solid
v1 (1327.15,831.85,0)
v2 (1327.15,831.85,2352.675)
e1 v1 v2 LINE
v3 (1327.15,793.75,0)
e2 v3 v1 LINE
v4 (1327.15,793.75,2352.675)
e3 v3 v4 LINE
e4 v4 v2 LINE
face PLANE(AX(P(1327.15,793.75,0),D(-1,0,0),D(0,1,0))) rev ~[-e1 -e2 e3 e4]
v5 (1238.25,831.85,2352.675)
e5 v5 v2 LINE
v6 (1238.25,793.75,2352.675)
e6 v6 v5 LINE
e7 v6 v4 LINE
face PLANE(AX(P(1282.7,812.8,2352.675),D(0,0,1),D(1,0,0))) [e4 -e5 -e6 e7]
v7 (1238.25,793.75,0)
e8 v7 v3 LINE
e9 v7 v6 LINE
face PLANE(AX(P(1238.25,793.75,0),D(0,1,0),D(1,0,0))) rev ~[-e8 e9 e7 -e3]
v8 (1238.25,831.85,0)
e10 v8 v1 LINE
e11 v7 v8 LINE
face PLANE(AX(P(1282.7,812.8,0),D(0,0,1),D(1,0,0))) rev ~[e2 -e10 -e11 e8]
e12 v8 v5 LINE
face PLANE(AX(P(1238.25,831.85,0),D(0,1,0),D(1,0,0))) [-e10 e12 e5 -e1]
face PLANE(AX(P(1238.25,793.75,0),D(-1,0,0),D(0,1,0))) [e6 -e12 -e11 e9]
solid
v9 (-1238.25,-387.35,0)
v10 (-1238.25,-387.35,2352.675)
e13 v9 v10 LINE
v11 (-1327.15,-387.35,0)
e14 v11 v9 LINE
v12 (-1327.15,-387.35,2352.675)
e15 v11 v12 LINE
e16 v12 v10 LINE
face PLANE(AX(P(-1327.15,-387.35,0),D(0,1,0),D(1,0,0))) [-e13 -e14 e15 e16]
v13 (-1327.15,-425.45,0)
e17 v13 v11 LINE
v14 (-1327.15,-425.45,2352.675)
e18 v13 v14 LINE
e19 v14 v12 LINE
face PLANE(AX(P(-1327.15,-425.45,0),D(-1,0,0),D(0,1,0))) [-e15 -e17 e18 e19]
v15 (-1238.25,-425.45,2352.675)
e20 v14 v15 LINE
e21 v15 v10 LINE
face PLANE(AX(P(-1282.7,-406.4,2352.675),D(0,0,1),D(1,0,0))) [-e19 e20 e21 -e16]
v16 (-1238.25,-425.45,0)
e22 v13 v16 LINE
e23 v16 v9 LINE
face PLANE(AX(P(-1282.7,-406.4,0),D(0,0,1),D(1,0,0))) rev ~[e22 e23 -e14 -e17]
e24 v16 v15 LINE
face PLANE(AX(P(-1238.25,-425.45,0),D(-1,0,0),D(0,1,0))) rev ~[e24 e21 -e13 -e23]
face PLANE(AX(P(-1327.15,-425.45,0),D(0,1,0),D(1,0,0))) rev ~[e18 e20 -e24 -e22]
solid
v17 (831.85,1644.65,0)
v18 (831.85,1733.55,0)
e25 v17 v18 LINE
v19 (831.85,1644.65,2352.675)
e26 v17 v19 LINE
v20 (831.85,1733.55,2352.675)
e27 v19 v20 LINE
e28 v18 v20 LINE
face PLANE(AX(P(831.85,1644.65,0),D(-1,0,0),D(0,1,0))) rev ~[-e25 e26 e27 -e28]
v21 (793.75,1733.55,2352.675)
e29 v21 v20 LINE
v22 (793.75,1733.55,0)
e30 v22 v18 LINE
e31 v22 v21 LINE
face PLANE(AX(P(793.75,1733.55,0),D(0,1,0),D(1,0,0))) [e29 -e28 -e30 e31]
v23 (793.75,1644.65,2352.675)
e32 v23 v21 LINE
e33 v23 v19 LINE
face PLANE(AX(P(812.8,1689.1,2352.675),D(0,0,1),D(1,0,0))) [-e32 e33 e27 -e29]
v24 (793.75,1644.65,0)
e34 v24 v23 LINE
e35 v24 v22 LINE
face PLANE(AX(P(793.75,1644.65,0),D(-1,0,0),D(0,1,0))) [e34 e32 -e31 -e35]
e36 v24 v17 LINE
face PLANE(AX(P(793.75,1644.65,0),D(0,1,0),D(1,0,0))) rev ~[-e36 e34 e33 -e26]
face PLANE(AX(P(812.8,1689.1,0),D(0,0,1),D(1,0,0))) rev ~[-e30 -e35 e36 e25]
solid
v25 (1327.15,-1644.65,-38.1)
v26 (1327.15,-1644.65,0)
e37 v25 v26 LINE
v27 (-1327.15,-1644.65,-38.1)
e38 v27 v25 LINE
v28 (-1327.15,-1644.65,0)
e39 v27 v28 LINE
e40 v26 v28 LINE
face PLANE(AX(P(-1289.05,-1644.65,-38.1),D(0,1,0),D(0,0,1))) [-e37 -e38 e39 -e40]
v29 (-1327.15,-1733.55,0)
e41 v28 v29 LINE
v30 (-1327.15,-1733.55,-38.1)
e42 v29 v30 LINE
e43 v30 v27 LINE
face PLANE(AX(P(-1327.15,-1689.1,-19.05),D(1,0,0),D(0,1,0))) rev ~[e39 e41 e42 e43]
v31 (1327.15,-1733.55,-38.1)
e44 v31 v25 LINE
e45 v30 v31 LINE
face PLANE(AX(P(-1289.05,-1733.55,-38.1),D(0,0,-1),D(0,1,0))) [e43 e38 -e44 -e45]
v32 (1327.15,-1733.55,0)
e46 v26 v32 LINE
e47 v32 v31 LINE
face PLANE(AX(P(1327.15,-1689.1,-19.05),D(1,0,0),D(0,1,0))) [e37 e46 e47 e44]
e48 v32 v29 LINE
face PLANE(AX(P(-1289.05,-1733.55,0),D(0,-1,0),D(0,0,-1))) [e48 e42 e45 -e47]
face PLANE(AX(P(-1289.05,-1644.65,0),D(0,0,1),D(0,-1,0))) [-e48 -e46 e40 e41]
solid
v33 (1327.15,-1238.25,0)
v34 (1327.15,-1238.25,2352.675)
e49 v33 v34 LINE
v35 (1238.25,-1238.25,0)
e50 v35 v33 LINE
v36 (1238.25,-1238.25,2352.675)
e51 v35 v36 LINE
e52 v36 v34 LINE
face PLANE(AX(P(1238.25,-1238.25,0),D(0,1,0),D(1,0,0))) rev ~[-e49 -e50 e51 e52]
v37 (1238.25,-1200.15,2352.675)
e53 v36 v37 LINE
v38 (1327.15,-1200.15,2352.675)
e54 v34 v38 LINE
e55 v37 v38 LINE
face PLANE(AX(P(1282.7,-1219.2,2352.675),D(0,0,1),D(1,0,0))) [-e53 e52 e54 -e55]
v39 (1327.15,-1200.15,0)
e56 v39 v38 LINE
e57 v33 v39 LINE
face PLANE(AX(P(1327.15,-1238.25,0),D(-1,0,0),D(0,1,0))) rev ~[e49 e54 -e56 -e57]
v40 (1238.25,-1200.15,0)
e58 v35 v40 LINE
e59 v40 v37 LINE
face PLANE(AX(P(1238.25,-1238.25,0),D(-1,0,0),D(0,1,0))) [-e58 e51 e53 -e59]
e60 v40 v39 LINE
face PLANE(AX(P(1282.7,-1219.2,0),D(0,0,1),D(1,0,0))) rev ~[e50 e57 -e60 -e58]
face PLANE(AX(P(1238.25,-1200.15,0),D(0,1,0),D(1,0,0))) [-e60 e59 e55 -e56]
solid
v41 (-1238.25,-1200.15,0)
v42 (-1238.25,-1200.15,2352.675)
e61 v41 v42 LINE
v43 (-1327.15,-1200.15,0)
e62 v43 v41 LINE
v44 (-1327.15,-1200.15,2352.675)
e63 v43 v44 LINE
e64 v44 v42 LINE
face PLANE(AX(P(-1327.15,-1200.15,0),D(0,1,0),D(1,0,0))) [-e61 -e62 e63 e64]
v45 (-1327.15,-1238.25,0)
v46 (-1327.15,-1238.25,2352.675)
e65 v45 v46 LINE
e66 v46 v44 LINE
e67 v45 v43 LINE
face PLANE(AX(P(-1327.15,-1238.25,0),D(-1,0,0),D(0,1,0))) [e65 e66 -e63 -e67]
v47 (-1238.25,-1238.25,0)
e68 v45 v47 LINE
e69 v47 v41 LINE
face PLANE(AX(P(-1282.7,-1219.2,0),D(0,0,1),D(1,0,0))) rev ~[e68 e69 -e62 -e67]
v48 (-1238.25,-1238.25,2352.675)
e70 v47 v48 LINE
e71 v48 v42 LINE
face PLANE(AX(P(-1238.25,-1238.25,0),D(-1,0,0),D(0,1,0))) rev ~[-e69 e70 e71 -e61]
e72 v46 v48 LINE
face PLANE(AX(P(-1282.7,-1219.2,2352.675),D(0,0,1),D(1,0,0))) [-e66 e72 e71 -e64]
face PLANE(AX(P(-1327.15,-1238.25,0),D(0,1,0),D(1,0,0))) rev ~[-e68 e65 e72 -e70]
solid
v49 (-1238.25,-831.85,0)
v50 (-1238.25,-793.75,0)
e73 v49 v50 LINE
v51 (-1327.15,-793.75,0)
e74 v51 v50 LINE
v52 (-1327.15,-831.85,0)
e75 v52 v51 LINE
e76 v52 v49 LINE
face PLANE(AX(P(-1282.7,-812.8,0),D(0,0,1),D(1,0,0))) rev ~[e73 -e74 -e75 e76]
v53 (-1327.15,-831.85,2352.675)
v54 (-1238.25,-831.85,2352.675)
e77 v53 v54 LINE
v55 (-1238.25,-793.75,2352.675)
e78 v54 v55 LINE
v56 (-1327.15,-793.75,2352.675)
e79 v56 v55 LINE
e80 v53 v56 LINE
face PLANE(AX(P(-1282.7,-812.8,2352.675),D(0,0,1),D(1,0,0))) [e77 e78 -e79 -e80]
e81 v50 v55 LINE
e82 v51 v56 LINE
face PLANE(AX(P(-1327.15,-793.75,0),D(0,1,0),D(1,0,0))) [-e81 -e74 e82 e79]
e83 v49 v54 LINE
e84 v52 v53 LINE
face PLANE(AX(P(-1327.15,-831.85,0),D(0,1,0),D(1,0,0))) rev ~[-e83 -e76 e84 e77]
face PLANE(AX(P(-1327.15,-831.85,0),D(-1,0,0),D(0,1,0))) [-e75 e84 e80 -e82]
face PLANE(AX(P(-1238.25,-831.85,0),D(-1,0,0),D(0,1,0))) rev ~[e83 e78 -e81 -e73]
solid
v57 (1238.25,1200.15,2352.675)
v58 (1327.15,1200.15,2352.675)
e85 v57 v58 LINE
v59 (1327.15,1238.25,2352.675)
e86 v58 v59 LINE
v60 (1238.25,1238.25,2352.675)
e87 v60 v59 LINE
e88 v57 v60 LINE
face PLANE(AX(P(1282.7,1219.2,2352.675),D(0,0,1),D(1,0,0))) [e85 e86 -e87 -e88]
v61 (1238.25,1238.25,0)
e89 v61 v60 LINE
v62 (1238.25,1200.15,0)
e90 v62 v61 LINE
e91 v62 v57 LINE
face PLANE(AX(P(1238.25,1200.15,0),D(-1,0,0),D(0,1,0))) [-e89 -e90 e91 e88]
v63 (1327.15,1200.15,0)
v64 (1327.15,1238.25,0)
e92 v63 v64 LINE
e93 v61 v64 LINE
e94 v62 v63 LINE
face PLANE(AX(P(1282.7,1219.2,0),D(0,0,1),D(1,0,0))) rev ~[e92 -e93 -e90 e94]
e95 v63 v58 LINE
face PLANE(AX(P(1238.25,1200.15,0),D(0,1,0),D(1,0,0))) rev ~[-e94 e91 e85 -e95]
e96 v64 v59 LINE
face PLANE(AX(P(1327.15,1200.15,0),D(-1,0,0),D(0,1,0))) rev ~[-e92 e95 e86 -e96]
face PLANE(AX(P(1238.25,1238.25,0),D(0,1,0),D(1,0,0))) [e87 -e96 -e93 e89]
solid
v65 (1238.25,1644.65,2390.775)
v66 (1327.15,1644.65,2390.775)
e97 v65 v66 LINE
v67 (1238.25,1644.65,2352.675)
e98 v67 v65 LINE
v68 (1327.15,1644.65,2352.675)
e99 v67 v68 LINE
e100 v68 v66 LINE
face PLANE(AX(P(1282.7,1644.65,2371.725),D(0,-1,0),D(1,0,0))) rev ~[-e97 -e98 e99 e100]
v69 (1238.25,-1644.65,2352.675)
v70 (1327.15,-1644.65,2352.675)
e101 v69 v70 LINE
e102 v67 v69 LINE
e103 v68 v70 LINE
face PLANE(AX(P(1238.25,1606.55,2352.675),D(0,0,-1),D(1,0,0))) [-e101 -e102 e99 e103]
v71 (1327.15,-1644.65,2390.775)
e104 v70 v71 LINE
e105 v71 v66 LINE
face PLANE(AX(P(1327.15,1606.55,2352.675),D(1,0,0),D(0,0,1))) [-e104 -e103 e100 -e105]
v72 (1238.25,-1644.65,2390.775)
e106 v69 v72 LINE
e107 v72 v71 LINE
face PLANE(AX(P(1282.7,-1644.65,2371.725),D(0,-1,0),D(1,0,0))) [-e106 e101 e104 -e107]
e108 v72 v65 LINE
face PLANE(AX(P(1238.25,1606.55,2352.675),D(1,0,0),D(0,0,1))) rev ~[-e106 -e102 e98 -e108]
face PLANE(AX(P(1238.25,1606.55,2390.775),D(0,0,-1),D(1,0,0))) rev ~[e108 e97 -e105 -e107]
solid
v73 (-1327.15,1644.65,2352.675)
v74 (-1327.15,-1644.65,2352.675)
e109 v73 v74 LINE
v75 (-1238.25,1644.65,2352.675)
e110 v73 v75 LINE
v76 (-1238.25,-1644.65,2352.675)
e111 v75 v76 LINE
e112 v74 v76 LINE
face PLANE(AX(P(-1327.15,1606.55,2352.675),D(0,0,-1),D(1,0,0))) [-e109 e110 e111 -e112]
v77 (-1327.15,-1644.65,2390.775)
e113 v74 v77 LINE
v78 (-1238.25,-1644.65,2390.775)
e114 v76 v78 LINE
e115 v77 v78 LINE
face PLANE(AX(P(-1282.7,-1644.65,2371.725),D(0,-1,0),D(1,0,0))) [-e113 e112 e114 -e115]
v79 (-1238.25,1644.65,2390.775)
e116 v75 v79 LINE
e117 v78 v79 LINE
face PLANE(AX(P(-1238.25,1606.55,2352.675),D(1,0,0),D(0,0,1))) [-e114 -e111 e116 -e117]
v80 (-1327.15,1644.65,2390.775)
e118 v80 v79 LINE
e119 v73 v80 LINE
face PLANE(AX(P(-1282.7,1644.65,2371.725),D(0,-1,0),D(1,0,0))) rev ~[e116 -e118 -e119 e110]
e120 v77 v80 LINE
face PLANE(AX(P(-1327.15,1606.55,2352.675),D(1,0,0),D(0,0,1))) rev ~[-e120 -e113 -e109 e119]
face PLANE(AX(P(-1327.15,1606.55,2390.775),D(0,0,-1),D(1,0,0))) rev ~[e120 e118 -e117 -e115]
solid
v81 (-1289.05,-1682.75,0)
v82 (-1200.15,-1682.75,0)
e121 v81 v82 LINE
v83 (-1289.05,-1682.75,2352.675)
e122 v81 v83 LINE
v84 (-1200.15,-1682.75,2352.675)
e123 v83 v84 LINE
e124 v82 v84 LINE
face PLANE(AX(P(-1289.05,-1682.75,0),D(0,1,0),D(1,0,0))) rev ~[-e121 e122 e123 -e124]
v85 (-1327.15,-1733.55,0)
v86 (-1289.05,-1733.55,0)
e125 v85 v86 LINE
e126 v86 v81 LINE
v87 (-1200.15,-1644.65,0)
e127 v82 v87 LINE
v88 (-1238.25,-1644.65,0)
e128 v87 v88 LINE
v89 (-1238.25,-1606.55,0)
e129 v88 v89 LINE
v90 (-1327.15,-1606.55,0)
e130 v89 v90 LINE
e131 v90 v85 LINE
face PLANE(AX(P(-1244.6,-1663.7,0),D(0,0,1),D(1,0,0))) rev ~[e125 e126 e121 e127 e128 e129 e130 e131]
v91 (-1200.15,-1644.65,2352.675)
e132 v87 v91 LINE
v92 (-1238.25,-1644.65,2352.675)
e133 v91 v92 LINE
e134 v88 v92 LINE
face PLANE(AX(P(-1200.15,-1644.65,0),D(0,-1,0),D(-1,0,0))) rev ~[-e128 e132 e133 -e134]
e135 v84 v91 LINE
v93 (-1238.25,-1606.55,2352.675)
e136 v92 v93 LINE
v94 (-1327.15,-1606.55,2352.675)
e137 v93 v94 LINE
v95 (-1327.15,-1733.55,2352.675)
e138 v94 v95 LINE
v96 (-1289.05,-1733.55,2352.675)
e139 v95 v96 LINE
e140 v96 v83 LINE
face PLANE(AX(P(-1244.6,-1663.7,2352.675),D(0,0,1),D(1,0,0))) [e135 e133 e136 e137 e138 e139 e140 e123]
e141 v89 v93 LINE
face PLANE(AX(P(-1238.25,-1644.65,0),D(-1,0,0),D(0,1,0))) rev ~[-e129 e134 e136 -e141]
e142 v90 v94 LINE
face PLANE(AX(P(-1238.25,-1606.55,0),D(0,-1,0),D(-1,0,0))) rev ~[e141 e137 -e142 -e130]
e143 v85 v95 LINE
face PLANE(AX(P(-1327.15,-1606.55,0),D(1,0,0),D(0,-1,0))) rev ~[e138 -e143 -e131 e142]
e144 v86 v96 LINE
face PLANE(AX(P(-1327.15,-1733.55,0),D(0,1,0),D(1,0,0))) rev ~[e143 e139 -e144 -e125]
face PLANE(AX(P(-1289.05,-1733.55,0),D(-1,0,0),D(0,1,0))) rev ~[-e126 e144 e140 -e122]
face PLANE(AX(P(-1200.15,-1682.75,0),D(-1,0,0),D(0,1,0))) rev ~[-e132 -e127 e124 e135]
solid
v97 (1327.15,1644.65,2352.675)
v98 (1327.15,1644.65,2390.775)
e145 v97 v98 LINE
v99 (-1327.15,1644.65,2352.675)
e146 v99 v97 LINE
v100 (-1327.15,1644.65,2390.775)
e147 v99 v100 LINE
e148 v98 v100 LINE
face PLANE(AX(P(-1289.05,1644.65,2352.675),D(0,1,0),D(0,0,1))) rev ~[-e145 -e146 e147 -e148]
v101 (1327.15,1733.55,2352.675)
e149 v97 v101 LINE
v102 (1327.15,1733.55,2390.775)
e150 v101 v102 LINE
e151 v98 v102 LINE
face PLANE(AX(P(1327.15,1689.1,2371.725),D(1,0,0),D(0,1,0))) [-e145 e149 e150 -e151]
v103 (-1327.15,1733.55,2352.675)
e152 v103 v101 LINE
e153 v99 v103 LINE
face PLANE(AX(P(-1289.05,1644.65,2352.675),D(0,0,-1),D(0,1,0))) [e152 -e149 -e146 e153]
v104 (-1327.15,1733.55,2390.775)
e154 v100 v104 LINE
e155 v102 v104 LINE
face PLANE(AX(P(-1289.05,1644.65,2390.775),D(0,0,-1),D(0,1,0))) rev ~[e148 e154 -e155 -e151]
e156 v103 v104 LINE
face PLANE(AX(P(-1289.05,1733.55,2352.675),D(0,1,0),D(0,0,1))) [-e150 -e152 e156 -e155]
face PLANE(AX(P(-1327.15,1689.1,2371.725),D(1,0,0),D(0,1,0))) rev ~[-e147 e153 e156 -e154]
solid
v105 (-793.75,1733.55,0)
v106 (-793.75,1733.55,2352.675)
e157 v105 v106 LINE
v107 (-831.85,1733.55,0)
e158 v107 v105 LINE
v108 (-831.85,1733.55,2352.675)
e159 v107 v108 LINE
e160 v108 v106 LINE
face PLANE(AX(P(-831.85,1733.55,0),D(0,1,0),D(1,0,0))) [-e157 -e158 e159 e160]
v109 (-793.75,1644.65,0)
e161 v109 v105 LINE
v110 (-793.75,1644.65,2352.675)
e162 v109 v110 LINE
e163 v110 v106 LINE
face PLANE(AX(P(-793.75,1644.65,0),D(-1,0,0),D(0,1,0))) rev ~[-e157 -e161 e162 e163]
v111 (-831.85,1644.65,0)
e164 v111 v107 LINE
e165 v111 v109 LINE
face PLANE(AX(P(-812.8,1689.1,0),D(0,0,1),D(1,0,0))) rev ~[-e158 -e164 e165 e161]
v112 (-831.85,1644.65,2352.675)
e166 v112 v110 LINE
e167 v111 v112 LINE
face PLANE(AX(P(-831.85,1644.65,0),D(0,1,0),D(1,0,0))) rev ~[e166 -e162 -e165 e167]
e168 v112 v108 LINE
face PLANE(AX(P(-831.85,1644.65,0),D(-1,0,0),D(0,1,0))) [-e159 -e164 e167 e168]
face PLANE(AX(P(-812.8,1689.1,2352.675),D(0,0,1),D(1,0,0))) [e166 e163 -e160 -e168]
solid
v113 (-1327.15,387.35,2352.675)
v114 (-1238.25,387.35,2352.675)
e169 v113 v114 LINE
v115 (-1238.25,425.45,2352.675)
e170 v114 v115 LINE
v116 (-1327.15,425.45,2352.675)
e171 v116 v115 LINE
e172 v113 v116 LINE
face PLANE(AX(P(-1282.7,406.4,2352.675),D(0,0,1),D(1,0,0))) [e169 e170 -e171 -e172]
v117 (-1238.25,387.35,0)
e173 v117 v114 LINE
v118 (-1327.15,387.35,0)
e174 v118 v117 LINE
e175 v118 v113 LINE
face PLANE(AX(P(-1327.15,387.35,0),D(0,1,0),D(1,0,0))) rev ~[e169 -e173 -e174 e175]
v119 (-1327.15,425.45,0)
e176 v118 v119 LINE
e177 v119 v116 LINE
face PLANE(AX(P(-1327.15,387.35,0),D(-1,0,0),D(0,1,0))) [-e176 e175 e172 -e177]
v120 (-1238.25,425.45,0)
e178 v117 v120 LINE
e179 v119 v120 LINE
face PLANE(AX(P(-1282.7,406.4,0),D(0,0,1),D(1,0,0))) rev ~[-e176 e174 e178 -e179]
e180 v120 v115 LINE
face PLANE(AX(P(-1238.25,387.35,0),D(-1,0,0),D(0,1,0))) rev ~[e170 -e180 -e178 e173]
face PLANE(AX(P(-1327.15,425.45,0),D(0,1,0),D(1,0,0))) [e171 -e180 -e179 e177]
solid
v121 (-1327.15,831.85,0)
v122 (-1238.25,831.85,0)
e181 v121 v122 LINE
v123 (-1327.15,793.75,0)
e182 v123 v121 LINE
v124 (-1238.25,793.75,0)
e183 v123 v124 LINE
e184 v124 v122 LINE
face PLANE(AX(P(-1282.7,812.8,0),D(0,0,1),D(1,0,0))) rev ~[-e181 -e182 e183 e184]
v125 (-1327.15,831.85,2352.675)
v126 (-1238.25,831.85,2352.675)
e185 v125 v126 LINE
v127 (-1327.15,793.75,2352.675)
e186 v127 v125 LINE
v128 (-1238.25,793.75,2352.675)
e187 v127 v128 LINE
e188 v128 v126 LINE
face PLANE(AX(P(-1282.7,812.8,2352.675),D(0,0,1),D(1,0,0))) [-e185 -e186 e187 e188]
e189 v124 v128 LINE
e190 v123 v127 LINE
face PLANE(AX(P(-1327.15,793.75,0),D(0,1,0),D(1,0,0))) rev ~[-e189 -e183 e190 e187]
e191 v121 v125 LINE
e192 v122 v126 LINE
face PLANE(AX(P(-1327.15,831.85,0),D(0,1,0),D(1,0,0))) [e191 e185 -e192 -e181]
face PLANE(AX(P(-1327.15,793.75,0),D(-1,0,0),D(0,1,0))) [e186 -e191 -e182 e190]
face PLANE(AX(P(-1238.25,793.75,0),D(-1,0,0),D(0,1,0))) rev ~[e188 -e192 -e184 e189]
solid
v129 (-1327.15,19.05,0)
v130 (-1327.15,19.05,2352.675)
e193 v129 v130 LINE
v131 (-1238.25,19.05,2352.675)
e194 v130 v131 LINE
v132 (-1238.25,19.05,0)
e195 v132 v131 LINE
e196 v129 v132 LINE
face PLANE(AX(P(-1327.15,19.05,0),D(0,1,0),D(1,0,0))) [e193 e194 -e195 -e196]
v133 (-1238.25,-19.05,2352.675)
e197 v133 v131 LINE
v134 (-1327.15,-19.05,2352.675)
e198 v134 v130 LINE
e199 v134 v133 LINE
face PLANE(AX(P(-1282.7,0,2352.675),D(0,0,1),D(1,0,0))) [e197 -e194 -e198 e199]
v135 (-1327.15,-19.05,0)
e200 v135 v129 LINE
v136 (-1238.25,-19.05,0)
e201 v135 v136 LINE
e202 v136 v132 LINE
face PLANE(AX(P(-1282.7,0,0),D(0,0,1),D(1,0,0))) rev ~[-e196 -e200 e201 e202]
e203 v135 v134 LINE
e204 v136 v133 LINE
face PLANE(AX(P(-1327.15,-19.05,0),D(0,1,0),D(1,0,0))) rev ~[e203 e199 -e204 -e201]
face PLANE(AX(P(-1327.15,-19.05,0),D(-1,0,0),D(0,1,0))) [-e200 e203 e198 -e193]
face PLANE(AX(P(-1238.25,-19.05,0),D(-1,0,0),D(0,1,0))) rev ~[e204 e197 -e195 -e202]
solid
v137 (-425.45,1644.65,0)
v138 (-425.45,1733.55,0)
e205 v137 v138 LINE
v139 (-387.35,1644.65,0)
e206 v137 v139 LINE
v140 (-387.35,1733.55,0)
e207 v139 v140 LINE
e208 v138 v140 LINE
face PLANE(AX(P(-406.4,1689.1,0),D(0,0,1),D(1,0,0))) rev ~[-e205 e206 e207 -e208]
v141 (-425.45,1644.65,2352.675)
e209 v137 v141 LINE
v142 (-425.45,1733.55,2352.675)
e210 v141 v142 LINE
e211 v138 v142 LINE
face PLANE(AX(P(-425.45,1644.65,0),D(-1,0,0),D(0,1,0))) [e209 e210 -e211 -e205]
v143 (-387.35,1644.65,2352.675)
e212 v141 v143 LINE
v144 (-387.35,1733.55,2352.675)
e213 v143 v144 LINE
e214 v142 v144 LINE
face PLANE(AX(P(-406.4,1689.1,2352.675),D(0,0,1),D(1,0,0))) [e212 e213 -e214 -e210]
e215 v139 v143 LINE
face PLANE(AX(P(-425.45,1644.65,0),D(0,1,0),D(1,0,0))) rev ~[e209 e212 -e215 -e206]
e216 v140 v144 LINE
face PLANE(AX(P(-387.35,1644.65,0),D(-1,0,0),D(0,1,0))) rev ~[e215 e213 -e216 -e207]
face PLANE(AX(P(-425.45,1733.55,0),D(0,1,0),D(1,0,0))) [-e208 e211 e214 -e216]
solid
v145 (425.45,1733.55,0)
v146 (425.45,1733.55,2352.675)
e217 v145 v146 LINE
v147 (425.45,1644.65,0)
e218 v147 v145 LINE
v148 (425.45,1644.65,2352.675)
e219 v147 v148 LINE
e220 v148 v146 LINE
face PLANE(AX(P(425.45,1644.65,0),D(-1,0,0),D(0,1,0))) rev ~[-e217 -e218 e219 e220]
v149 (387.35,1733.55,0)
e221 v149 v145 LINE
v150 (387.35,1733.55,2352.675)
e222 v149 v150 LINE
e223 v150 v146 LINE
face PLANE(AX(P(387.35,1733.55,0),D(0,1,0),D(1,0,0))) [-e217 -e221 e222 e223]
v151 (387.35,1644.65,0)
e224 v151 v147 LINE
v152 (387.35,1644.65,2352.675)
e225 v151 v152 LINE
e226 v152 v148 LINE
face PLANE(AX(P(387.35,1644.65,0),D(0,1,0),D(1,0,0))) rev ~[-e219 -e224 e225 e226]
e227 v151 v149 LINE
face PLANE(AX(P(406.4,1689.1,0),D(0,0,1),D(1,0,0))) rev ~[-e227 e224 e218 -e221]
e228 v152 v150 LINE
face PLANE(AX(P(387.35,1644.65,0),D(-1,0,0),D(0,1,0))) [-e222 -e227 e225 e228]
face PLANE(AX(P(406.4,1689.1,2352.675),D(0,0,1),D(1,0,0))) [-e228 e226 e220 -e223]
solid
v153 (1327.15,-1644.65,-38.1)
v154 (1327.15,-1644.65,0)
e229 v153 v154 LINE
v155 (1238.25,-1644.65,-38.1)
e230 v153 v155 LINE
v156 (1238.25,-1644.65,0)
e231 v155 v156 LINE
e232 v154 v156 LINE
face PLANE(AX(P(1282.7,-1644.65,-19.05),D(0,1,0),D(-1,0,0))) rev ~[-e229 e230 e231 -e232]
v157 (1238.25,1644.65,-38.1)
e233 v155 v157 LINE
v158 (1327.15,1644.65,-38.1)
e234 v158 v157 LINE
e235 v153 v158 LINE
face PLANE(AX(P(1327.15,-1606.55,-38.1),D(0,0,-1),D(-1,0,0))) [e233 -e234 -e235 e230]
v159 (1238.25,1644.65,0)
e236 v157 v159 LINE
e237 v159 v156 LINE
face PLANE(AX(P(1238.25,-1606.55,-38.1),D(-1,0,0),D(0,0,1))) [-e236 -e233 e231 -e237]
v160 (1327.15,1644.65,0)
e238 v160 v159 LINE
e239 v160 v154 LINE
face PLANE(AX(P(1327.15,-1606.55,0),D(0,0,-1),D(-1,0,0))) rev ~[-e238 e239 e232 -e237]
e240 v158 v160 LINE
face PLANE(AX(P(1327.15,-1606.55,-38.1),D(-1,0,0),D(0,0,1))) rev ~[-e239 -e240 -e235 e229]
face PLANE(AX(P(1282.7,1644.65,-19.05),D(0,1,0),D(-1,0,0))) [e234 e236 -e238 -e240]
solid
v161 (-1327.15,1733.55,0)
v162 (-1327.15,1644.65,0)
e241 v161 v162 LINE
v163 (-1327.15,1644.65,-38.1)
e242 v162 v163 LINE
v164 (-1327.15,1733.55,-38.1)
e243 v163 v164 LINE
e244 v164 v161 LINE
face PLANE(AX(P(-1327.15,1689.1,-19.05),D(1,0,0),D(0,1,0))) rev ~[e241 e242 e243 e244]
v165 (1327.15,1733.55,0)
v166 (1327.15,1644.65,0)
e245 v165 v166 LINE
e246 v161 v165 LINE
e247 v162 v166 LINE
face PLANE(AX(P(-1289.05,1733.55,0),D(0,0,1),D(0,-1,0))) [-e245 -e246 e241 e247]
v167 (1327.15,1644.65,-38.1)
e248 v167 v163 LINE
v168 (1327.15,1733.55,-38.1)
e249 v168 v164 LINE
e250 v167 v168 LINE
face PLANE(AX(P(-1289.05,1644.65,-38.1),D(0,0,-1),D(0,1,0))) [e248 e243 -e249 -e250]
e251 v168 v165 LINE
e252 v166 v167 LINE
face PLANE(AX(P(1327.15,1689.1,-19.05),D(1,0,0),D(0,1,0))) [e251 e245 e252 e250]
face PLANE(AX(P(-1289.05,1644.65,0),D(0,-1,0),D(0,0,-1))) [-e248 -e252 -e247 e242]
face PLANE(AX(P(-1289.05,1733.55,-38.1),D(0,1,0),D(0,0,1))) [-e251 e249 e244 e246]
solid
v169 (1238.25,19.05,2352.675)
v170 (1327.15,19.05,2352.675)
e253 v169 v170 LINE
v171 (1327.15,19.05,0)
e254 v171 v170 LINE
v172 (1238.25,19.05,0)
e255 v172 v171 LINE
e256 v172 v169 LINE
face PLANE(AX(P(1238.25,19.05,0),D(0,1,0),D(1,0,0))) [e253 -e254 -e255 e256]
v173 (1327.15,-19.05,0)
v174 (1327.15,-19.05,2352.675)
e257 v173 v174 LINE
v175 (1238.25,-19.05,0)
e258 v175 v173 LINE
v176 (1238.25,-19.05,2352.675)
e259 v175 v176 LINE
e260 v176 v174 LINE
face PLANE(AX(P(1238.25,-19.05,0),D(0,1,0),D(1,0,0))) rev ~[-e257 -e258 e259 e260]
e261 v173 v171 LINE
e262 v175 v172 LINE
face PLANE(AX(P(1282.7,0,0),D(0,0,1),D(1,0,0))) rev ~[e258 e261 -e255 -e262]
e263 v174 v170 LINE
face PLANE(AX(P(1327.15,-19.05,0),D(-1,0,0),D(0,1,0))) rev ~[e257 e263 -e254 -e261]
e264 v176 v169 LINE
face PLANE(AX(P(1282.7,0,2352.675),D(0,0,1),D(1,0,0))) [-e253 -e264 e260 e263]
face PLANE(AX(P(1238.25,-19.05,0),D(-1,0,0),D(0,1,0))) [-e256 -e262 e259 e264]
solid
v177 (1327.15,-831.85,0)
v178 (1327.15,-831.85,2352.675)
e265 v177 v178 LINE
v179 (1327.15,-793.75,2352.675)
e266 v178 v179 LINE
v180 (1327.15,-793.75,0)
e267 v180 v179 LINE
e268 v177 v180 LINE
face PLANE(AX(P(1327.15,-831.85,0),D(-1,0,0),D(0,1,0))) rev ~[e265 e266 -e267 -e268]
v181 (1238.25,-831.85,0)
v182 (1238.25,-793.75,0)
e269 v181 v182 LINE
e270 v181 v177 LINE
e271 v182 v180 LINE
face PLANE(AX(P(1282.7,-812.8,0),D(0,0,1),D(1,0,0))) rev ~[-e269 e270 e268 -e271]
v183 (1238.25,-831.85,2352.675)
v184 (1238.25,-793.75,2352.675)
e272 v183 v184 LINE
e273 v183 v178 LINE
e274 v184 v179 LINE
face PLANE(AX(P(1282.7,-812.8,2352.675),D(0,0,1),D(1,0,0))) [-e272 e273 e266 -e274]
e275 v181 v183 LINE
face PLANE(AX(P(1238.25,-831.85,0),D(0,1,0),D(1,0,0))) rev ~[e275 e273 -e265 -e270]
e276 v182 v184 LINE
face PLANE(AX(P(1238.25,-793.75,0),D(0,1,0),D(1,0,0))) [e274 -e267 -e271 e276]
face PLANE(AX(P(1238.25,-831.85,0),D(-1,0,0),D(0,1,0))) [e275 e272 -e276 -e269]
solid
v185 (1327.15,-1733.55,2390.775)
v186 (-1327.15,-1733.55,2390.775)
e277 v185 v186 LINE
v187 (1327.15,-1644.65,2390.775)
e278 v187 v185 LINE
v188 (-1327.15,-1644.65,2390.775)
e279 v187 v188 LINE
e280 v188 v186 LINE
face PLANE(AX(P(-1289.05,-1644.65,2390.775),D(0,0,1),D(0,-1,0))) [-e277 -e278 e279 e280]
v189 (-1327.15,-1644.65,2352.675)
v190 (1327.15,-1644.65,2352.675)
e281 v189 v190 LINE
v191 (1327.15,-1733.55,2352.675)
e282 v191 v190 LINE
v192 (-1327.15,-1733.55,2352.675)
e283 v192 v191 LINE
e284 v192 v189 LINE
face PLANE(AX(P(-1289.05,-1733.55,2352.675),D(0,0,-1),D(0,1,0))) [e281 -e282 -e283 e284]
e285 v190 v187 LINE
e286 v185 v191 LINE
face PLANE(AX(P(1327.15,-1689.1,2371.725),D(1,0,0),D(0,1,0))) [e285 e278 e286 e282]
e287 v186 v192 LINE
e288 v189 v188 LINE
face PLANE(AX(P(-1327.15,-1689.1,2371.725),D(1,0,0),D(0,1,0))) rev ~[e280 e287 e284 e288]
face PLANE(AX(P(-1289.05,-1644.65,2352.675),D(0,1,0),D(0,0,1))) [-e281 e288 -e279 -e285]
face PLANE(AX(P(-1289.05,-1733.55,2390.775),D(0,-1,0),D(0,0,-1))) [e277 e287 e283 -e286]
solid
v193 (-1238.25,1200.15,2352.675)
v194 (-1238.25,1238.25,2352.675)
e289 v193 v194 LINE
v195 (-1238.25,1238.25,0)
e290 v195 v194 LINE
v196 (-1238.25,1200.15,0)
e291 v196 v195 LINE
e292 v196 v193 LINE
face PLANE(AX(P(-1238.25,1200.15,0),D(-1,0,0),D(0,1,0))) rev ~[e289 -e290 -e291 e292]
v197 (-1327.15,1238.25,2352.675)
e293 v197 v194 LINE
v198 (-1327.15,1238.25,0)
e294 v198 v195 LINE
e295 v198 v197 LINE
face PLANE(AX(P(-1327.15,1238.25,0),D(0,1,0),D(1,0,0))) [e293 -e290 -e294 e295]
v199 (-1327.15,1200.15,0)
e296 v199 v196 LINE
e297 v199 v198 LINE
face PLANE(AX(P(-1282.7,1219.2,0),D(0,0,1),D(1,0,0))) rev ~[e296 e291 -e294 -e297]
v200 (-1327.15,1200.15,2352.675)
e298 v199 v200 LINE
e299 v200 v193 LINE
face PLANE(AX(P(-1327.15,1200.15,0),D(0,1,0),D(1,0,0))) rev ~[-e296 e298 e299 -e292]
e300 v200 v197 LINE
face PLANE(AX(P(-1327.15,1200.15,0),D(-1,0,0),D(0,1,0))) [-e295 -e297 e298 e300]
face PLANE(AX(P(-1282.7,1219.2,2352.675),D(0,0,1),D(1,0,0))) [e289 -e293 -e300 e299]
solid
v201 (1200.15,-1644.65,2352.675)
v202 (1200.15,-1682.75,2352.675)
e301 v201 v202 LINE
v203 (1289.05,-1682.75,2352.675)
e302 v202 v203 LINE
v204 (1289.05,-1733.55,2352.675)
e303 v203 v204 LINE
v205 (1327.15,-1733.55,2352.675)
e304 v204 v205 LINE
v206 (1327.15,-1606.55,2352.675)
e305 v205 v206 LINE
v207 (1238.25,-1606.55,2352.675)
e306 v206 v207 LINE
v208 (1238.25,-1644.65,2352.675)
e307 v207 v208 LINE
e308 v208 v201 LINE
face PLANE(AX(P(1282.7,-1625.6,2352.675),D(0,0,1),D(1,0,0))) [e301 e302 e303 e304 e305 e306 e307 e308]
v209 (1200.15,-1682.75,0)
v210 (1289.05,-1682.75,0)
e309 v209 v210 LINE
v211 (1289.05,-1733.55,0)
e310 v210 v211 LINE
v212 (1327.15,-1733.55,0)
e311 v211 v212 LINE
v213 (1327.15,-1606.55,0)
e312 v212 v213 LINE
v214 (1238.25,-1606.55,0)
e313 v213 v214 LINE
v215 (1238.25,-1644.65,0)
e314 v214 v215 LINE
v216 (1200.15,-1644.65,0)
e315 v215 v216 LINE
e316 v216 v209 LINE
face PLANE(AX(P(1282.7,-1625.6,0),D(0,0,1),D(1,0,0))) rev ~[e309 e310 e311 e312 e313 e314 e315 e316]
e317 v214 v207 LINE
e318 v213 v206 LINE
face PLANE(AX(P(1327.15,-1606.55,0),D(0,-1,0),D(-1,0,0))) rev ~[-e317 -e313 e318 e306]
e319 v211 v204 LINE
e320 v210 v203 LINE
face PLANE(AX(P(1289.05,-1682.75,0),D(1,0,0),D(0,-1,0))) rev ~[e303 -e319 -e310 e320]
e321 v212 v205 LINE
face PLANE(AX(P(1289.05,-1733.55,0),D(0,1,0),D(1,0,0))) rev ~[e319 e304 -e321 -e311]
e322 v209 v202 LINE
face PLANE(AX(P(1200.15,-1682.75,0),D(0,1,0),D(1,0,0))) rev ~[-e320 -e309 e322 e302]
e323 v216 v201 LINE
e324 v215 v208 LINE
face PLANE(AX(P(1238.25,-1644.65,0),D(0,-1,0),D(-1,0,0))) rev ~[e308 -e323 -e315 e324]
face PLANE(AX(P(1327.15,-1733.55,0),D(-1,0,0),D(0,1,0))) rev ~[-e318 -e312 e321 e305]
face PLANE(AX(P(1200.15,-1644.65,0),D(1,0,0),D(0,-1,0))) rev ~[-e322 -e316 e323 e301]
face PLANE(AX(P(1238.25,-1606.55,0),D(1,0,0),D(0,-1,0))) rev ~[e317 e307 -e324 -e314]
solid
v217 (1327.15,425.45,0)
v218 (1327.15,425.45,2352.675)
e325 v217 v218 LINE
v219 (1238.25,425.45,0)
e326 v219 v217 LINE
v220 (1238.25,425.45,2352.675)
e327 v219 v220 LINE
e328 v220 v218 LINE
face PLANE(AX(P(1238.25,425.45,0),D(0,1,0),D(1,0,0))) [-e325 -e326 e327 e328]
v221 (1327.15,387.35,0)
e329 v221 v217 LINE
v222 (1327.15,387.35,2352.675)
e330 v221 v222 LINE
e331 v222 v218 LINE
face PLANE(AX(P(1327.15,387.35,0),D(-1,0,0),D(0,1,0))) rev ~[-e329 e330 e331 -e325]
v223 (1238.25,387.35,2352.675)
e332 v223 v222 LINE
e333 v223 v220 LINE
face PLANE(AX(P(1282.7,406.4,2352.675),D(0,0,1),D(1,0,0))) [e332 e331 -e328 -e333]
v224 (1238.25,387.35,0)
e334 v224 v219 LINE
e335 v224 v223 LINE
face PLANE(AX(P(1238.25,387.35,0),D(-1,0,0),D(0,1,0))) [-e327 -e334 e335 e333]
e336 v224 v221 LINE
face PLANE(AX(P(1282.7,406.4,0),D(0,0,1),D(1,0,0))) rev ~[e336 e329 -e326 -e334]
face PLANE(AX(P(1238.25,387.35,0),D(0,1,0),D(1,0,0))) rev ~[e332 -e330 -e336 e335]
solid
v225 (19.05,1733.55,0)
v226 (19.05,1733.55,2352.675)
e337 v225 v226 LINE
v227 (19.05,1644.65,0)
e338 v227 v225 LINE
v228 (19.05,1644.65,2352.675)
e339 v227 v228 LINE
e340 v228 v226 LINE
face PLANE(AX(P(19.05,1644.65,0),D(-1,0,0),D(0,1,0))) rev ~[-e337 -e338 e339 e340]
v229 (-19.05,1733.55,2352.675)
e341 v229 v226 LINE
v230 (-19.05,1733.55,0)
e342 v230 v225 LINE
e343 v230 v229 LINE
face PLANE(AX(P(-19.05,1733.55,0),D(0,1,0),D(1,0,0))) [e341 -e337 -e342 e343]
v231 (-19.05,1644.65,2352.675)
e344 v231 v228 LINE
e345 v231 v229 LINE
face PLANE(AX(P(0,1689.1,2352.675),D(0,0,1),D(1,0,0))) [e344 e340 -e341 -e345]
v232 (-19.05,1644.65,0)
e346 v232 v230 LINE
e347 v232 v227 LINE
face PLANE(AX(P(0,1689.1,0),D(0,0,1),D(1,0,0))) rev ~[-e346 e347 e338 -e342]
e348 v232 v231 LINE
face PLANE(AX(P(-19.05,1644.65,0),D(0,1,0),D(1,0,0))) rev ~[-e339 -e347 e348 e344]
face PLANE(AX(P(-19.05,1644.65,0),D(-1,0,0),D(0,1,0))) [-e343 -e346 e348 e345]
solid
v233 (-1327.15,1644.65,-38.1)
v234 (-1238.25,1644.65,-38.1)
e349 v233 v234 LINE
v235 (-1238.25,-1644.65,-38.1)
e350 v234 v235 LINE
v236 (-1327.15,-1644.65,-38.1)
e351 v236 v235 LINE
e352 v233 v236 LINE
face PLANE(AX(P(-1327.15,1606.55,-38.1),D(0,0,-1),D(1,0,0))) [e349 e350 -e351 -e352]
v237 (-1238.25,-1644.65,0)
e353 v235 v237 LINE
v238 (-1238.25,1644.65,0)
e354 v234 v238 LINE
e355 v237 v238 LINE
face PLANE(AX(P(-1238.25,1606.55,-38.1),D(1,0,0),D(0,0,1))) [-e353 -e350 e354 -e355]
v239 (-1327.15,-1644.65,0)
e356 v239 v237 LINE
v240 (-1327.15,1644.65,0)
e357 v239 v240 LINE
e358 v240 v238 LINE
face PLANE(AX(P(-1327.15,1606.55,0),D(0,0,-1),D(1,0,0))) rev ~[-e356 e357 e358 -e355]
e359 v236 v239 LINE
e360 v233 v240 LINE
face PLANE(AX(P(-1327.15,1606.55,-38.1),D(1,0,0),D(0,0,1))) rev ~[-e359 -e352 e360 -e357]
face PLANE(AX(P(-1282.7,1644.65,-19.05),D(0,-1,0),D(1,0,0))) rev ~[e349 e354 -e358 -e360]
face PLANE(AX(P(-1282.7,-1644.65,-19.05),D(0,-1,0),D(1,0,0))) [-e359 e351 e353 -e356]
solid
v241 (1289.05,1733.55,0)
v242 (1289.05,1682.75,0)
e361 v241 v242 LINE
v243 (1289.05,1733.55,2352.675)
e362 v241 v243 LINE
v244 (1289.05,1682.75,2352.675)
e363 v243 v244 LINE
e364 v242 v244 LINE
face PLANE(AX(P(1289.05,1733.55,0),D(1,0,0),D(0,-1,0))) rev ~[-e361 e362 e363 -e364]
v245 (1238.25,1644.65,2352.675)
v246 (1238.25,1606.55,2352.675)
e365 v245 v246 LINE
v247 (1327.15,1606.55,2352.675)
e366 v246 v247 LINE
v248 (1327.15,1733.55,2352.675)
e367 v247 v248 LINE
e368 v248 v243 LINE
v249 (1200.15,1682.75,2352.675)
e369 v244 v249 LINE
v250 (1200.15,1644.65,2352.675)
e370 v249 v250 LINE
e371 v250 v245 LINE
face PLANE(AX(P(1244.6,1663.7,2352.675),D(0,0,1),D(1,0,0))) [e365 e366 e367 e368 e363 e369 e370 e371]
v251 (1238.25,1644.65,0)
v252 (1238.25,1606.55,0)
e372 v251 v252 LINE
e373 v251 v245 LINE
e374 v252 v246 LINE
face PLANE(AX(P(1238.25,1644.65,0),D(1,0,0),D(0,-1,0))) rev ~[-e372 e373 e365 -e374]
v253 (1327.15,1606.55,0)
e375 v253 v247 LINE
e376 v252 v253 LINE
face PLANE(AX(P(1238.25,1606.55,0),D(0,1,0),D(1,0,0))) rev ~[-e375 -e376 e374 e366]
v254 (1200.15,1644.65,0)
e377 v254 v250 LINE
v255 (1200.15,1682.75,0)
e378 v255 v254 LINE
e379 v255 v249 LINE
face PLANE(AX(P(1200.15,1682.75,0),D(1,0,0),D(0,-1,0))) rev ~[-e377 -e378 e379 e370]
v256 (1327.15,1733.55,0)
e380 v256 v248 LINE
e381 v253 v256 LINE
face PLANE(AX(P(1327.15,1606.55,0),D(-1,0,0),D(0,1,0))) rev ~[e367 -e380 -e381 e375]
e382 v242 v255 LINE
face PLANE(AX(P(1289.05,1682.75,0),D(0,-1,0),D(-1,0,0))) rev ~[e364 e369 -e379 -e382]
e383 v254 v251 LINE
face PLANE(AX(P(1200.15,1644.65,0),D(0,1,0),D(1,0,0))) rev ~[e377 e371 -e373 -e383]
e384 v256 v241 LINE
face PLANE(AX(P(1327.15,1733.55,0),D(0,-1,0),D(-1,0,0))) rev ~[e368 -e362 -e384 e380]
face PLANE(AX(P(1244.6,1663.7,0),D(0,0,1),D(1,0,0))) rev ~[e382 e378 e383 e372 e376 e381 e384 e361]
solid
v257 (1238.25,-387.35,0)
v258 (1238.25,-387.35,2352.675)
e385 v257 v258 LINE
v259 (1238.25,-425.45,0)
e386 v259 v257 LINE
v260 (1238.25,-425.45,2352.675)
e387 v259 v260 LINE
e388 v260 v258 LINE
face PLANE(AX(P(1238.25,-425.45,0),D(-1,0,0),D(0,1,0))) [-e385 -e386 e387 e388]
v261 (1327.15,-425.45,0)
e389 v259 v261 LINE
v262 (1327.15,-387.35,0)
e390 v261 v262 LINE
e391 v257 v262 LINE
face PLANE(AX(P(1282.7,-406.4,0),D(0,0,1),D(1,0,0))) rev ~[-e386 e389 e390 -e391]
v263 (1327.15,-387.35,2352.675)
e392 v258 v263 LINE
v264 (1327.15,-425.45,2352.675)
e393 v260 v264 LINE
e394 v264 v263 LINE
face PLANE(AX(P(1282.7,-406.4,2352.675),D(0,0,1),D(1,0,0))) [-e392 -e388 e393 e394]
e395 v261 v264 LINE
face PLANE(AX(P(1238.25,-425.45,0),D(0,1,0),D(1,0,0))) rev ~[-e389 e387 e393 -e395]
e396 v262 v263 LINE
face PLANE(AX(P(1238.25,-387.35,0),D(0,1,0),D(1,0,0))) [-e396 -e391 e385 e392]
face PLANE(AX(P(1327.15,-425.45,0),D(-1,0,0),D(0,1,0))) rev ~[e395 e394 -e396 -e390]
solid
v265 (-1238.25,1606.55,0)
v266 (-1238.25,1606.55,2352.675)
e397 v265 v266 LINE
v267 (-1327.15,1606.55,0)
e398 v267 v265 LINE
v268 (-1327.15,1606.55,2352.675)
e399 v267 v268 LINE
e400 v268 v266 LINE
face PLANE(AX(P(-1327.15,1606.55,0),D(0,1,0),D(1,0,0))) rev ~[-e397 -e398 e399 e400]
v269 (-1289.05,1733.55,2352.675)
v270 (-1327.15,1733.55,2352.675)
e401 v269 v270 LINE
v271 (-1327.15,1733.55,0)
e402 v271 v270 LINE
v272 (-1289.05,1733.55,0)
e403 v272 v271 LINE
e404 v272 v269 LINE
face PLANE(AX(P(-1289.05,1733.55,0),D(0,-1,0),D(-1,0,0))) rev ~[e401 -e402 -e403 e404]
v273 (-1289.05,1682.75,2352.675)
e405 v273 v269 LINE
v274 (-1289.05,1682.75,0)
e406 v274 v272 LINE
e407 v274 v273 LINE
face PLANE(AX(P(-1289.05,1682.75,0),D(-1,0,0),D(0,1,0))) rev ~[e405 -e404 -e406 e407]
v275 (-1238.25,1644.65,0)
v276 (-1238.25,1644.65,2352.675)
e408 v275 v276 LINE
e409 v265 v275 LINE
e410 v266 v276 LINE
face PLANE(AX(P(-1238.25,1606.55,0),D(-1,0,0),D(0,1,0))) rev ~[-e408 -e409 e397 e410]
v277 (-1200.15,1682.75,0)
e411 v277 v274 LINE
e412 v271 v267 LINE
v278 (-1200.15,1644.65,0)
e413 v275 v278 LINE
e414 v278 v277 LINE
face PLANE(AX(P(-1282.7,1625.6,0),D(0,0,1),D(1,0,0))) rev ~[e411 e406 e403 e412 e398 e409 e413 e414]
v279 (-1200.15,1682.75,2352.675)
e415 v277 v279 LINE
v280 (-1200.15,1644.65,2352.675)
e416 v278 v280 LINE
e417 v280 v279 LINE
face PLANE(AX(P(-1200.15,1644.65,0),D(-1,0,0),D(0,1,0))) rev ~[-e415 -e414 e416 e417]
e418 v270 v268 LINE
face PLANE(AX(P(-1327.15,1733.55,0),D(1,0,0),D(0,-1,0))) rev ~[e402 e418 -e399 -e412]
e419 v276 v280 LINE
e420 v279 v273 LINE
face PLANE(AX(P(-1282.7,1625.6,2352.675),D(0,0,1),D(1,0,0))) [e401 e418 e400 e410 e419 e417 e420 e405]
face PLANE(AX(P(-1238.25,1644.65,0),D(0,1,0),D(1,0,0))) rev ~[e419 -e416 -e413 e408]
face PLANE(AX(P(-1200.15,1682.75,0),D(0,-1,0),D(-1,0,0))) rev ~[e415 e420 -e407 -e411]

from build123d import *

# Parameters (mm, degrees)
F1_DEPTH       = 2352.675
F0_W           = 38.1
F0_H           = 88.9
F0_W_2         = 88.9
F0_H_2         = 38.1
F2_W           = 88.9
F2_H           = 38.1
F3_DEPTH       = 3251.2
F3_DEPTH_BACK  = 38.1
F4_W           = 88.9
F4_H           = 38.1
F5_DEPTH       = 3251.2
F5_DEPTH_BACK  = 38.1
F7_DEPTH       = 2616.2
F7_DEPTH_BACK  = 38.1
F9_DEPTH       = 2616.2
F9_DEPTH_BACK  = 38.1
F10_W          = 88.9
F10_H          = 38.1
F11_DEPTH      = 3251.2
F11_DEPTH_BACK = 38.1
F12_W          = 88.9
F12_H          = 38.1
F13_DEPTH      = 3251.2
F13_DEPTH_BACK = 38.1
F15_DEPTH      = 2616.2
F15_DEPTH_BACK = 38.1
F16_W          = 88.9
F16_H          = 38.1
F17_DEPTH      = 2616.2
F17_DEPTH_BACK = 38.1


with BuildPart() as f1:
    # F0 (on Top) → F1 (new body)
    with BuildSketch(Plane.XY):
        Polygon((-1327.15, 1606.55), (-1238.25, 1606.55), (-1238.25, 1625.6), (-1238.25, 1644.65), (-1289.05, 1644.65), (-1327.15, 1644.65), align=None)
        Polygon((-1327.15, 1733.55), (-1327.15, 1644.65), (-1289.05, 1644.65), (-1289.05, 1682.75), (-1289.05, 1733.55), align=None)
        Polygon((-1289.05, 1644.65), (-1238.25, 1644.65), (-1200.15, 1644.65), (-1200.15, 1682.75), (-1289.05, 1682.75), align=None)
    extrude(amount=F1_DEPTH)


with BuildPart() as f1b:
    # F0 (on Top) → F1, piece 2 (new body)
    with BuildSketch(Plane.XY):
        with Locations((-812.8, 1689.1)):
            Rectangle(F0_W, F0_H)
    extrude(amount=F1_DEPTH)


with BuildPart() as f1c:
    # F0 (on Top) → F1, piece 3 (new body)
    with BuildSketch(Plane.XY):
        with Locations((-406.4, 1689.1)):
            Rectangle(F0_W, F0_H)
    extrude(amount=F1_DEPTH)


with BuildPart() as f1d:
    # F0 (on Top) → F1, piece 4 (new body)
    with BuildSketch(Plane.XY):
        with Locations((0, 1689.1)):
            Rectangle(F0_W, F0_H)
    extrude(amount=F1_DEPTH)


with BuildPart() as f1e:
    # F0 (on Top) → F1, piece 5 (new body)
    with BuildSketch(Plane.XY):
        with Locations((406.4, 1689.1)):
            Rectangle(F0_W, F0_H)
    extrude(amount=F1_DEPTH)


with BuildPart() as f1f:
    # F0 (on Top) → F1, piece 6 (new body)
    with BuildSketch(Plane.XY):
        Polygon((1200.15, 1644.65), (1238.25, 1644.65), (1282.7, 1644.65), (1289.05, 1644.65), (1289.05, 1682.75), (1200.15, 1682.75), align=None)
        Polygon((1289.05, 1644.65), (1327.15, 1644.65), (1327.15, 1733.55), (1289.05, 1733.55), (1289.05, 1682.75), align=None)
        Polygon((1238.25, 1644.65), (1238.25, 1606.55), (1327.15, 1606.55), (1327.15, 1644.65), (1289.05, 1644.65), (1282.7, 1644.65), align=None)
    extrude(amount=F1_DEPTH)


with BuildPart() as f1g:
    # F0 (on Top) → F1, piece 7 (new body)
    with BuildSketch(Plane.XY):
        with Locations((1282.7, 1219.2)):
            Rectangle(F0_W_2, F0_H_2)
    extrude(amount=F1_DEPTH)


with BuildPart() as f1h:
    # F0 (on Top) → F1, piece 8 (new body)
    with BuildSketch(Plane.XY):
        with Locations((1282.7, 812.8)):
            Rectangle(F0_W_2, F0_H_2)
    extrude(amount=F1_DEPTH)


with BuildPart() as f1i:
    # F0 (on Top) → F1, piece 9 (new body)
    with BuildSketch(Plane.XY):
        with Locations((1282.7, 406.4)):
            Rectangle(F0_W_2, F0_H_2)
    extrude(amount=F1_DEPTH)


with BuildPart() as f1j:
    # F0 (on Top) → F1, piece 10 (new body)
    with BuildSketch(Plane.XY):
        with Locations((1282.7, 0)):
            Rectangle(F0_W_2, F0_H_2)
    extrude(amount=F1_DEPTH)


with BuildPart() as f1k:
    # F0 (on Top) → F1, piece 11 (new body)
    with BuildSketch(Plane.XY):
        with Locations((1282.7, -406.4)):
            Rectangle(F0_W_2, F0_H_2)
    extrude(amount=F1_DEPTH)


with BuildPart() as f1l:
    # F0 (on Top) → F1, piece 12 (new body)
    with BuildSketch(Plane.XY):
        with Locations((1282.7, -812.8)):
            Rectangle(F0_W_2, F0_H_2)
    extrude(amount=F1_DEPTH)


with BuildPart() as f1m:
    # F0 (on Top) → F1, piece 13 (new body)
    with BuildSketch(Plane.XY):
        with Locations((1282.7, -1219.2)):
            Rectangle(F0_W_2, F0_H_2)
    extrude(amount=F1_DEPTH)


with BuildPart() as f1n:
    # F0 (on Top) → F1, piece 14 (new body)
    with BuildSketch(Plane.XY):
        Polygon((1238.25, -1606.55), (1238.25, -1644.65), (1289.05, -1644.65), (1327.15, -1644.65), (1327.15, -1606.55), align=None)
        Polygon((1289.05, -1644.65), (1238.25, -1644.65), (1200.15, -1644.65), (1200.15, -1682.75), (1289.05, -1682.75), align=None)
        Polygon((1327.15, -1644.65), (1289.05, -1644.65), (1289.05, -1682.75), (1289.05, -1733.55), (1327.15, -1733.55), align=None)
    extrude(amount=F1_DEPTH)


with BuildPart() as f1o:
    # F0 (on Top) → F1, piece 15 (new body)
    with BuildSketch(Plane.XY):
        Polygon((-1200.15, -1682.75), (-1200.15, -1644.65), (-1238.25, -1644.65), (-1289.05, -1644.65), (-1289.05, -1682.75), align=None)
        Polygon((-1289.05, -1682.75), (-1289.05, -1644.65), (-1327.15, -1644.65), (-1327.15, -1733.55), (-1289.05, -1733.55), align=None)
        Polygon((-1289.05, -1644.65), (-1238.25, -1644.65), (-1238.25, -1625.6), (-1238.25, -1606.55), (-1327.15, -1606.55), (-1327.15, -1644.65), align=None)
    extrude(amount=F1_DEPTH)


with BuildPart() as f1p:
    # F0 (on Top) → F1, piece 16 (new body)
    with BuildSketch(Plane.XY):
        with Locations((-1282.7, -1219.2)):
            Rectangle(F0_W_2, F0_H_2)
    extrude(amount=F1_DEPTH)


with BuildPart() as f1q:
    # F0 (on Top) → F1, piece 17 (new body)
    with BuildSketch(Plane.XY):
        with Locations((-1282.7, -812.8)):
            Rectangle(F0_W_2, F0_H_2)
    extrude(amount=F1_DEPTH)


with BuildPart() as f1r:
    # F0 (on Top) → F1, piece 18 (new body)
    with BuildSketch(Plane.XY):
        with Locations((-1282.7, -406.4)):
            Rectangle(F0_W_2, F0_H_2)
    extrude(amount=F1_DEPTH)


with BuildPart() as f1s:
    # F0 (on Top) → F1, piece 19 (new body)
    with BuildSketch(Plane.XY):
        with Locations((-1282.7, 0)):
            Rectangle(F0_W_2, F0_H_2)
    extrude(amount=F1_DEPTH)


with BuildPart() as f1t:
    # F0 (on Top) → F1, piece 20 (new body)
    with BuildSketch(Plane.XY):
        with Locations((-1282.7, 406.4)):
            Rectangle(F0_W_2, F0_H_2)
    extrude(amount=F1_DEPTH)


with BuildPart() as f1u:
    # F0 (on Top) → F1, piece 21 (new body)
    with BuildSketch(Plane.XY):
        with Locations((-1282.7, 812.8)):
            Rectangle(F0_W_2, F0_H_2)
    extrude(amount=F1_DEPTH)


with BuildPart() as f1v:
    # F0 (on Top) → F1, piece 22 (new body)
    with BuildSketch(Plane.XY):
        with Locations((-1282.7, 1219.2)):
            Rectangle(F0_W_2, F0_H_2)
    extrude(amount=F1_DEPTH)


with BuildPart() as f1w:
    # F0 (on Top) → F1, piece 23 (new body)
    with BuildSketch(Plane.XY):
        with Locations((812.8, 1689.1)):
            Rectangle(F0_W, F0_H)
    extrude(amount=F1_DEPTH)


with BuildPart() as f3:
    # F2 (on face) → F3 (new body, two sides)
    with BuildSketch(Plane(origin=(0, -1606.55, 0), x_dir=(-1, 0, 0), z_dir=(0, 1, 0))) as f3_sk:
        with Locations((-1282.7, -19.05)):
            Rectangle(F2_W, F2_H)
    extrude(amount=F3_DEPTH)
    extrude(f3_sk.sketch, amount=-F3_DEPTH_BACK)


with BuildPart() as f5:
    # F4 (on face) → F5 (new body, two sides)
    with BuildSketch(Plane.XZ.offset(-1606.55)) as f5_sk:
        with Locations((-1282.7, -19.05)):
            Rectangle(F4_W, F4_H)
    extrude(amount=F5_DEPTH)
    extrude(f5_sk.sketch, amount=-F5_DEPTH_BACK)


with BuildPart() as f7:
    # F6 (on face) → F7 (new body, two sides)
    with BuildSketch(Plane.YZ.offset(-1289.05)) as f7_sk:
        Polygon((-1682.75, 0), (-1733.55, 0), (-1733.55, -38.1), (-1644.65, -38.1), (-1644.65, 0), align=None)
    extrude(amount=F7_DEPTH)
    extrude(f7_sk.sketch, amount=-F7_DEPTH_BACK)


with BuildPart() as f9:
    # F8 (on face) → F9 (new body, two sides)
    with BuildSketch(Plane.YZ.offset(-1289.05)) as f9_sk:
        Polygon((1733.55, -38.1), (1733.55, 0), (1682.75, 0), (1644.65, 0), (1644.65, -38.1), align=None)
    extrude(amount=F9_DEPTH)
    extrude(f9_sk.sketch, amount=-F9_DEPTH_BACK)


with BuildPart() as f11:
    # F10 (on face) → F11 (new body, two sides)
    with BuildSketch(Plane.XZ.offset(-1606.55)) as f11_sk:
        with Locations((1282.7, 2371.725)):
            Rectangle(F10_W, F10_H)
    extrude(amount=F11_DEPTH)
    extrude(f11_sk.sketch, amount=-F11_DEPTH_BACK)


with BuildPart() as f13:
    # F12 (on face) → F13 (new body, two sides)
    with BuildSketch(Plane.XZ.offset(-1606.55)) as f13_sk:
        with Locations((-1282.7, 2371.725)):
            Rectangle(F12_W, F12_H)
    extrude(amount=F13_DEPTH)
    extrude(f13_sk.sketch, amount=-F13_DEPTH_BACK)


with BuildPart() as f15:
    # F14 (on face) → F15 (new body, two sides)
    with BuildSketch(Plane.YZ.offset(-1289.05)) as f15_sk:
        Polygon((-1733.55, 2390.775), (-1733.55, 2352.675), (-1682.75, 2352.675), (-1644.65, 2352.675), (-1644.65, 2390.775), align=None)
    extrude(amount=F15_DEPTH)
    extrude(f15_sk.sketch, amount=-F15_DEPTH_BACK)


with BuildPart() as f17:
    # F16 (on face) → F17 (new body, two sides)
    with BuildSketch(Plane.YZ.offset(-1289.05)) as f17_sk:
        with Locations((1689.1, 2371.725)):
            Rectangle(F16_W, F16_H)
    extrude(amount=F17_DEPTH)
    extrude(f17_sk.sketch, amount=-F17_DEPTH_BACK)


solid = Compound([f1.part, f1b.part, f1c.part, f1d.part, f1e.part, f1f.part, f1g.part, f1h.part, f1i.part, f1j.part, f1k.part, f1l.part, f1m.part, f1n.part, f1o.part, f1p.part, f1q.part, f1r.part, f1s.part, f1t.part, f1u.part, f1v.part, f1w.part, f3.part, f5.part, f7.part, f9.part, f11.part, f13.part, f15.part, f17.part])
